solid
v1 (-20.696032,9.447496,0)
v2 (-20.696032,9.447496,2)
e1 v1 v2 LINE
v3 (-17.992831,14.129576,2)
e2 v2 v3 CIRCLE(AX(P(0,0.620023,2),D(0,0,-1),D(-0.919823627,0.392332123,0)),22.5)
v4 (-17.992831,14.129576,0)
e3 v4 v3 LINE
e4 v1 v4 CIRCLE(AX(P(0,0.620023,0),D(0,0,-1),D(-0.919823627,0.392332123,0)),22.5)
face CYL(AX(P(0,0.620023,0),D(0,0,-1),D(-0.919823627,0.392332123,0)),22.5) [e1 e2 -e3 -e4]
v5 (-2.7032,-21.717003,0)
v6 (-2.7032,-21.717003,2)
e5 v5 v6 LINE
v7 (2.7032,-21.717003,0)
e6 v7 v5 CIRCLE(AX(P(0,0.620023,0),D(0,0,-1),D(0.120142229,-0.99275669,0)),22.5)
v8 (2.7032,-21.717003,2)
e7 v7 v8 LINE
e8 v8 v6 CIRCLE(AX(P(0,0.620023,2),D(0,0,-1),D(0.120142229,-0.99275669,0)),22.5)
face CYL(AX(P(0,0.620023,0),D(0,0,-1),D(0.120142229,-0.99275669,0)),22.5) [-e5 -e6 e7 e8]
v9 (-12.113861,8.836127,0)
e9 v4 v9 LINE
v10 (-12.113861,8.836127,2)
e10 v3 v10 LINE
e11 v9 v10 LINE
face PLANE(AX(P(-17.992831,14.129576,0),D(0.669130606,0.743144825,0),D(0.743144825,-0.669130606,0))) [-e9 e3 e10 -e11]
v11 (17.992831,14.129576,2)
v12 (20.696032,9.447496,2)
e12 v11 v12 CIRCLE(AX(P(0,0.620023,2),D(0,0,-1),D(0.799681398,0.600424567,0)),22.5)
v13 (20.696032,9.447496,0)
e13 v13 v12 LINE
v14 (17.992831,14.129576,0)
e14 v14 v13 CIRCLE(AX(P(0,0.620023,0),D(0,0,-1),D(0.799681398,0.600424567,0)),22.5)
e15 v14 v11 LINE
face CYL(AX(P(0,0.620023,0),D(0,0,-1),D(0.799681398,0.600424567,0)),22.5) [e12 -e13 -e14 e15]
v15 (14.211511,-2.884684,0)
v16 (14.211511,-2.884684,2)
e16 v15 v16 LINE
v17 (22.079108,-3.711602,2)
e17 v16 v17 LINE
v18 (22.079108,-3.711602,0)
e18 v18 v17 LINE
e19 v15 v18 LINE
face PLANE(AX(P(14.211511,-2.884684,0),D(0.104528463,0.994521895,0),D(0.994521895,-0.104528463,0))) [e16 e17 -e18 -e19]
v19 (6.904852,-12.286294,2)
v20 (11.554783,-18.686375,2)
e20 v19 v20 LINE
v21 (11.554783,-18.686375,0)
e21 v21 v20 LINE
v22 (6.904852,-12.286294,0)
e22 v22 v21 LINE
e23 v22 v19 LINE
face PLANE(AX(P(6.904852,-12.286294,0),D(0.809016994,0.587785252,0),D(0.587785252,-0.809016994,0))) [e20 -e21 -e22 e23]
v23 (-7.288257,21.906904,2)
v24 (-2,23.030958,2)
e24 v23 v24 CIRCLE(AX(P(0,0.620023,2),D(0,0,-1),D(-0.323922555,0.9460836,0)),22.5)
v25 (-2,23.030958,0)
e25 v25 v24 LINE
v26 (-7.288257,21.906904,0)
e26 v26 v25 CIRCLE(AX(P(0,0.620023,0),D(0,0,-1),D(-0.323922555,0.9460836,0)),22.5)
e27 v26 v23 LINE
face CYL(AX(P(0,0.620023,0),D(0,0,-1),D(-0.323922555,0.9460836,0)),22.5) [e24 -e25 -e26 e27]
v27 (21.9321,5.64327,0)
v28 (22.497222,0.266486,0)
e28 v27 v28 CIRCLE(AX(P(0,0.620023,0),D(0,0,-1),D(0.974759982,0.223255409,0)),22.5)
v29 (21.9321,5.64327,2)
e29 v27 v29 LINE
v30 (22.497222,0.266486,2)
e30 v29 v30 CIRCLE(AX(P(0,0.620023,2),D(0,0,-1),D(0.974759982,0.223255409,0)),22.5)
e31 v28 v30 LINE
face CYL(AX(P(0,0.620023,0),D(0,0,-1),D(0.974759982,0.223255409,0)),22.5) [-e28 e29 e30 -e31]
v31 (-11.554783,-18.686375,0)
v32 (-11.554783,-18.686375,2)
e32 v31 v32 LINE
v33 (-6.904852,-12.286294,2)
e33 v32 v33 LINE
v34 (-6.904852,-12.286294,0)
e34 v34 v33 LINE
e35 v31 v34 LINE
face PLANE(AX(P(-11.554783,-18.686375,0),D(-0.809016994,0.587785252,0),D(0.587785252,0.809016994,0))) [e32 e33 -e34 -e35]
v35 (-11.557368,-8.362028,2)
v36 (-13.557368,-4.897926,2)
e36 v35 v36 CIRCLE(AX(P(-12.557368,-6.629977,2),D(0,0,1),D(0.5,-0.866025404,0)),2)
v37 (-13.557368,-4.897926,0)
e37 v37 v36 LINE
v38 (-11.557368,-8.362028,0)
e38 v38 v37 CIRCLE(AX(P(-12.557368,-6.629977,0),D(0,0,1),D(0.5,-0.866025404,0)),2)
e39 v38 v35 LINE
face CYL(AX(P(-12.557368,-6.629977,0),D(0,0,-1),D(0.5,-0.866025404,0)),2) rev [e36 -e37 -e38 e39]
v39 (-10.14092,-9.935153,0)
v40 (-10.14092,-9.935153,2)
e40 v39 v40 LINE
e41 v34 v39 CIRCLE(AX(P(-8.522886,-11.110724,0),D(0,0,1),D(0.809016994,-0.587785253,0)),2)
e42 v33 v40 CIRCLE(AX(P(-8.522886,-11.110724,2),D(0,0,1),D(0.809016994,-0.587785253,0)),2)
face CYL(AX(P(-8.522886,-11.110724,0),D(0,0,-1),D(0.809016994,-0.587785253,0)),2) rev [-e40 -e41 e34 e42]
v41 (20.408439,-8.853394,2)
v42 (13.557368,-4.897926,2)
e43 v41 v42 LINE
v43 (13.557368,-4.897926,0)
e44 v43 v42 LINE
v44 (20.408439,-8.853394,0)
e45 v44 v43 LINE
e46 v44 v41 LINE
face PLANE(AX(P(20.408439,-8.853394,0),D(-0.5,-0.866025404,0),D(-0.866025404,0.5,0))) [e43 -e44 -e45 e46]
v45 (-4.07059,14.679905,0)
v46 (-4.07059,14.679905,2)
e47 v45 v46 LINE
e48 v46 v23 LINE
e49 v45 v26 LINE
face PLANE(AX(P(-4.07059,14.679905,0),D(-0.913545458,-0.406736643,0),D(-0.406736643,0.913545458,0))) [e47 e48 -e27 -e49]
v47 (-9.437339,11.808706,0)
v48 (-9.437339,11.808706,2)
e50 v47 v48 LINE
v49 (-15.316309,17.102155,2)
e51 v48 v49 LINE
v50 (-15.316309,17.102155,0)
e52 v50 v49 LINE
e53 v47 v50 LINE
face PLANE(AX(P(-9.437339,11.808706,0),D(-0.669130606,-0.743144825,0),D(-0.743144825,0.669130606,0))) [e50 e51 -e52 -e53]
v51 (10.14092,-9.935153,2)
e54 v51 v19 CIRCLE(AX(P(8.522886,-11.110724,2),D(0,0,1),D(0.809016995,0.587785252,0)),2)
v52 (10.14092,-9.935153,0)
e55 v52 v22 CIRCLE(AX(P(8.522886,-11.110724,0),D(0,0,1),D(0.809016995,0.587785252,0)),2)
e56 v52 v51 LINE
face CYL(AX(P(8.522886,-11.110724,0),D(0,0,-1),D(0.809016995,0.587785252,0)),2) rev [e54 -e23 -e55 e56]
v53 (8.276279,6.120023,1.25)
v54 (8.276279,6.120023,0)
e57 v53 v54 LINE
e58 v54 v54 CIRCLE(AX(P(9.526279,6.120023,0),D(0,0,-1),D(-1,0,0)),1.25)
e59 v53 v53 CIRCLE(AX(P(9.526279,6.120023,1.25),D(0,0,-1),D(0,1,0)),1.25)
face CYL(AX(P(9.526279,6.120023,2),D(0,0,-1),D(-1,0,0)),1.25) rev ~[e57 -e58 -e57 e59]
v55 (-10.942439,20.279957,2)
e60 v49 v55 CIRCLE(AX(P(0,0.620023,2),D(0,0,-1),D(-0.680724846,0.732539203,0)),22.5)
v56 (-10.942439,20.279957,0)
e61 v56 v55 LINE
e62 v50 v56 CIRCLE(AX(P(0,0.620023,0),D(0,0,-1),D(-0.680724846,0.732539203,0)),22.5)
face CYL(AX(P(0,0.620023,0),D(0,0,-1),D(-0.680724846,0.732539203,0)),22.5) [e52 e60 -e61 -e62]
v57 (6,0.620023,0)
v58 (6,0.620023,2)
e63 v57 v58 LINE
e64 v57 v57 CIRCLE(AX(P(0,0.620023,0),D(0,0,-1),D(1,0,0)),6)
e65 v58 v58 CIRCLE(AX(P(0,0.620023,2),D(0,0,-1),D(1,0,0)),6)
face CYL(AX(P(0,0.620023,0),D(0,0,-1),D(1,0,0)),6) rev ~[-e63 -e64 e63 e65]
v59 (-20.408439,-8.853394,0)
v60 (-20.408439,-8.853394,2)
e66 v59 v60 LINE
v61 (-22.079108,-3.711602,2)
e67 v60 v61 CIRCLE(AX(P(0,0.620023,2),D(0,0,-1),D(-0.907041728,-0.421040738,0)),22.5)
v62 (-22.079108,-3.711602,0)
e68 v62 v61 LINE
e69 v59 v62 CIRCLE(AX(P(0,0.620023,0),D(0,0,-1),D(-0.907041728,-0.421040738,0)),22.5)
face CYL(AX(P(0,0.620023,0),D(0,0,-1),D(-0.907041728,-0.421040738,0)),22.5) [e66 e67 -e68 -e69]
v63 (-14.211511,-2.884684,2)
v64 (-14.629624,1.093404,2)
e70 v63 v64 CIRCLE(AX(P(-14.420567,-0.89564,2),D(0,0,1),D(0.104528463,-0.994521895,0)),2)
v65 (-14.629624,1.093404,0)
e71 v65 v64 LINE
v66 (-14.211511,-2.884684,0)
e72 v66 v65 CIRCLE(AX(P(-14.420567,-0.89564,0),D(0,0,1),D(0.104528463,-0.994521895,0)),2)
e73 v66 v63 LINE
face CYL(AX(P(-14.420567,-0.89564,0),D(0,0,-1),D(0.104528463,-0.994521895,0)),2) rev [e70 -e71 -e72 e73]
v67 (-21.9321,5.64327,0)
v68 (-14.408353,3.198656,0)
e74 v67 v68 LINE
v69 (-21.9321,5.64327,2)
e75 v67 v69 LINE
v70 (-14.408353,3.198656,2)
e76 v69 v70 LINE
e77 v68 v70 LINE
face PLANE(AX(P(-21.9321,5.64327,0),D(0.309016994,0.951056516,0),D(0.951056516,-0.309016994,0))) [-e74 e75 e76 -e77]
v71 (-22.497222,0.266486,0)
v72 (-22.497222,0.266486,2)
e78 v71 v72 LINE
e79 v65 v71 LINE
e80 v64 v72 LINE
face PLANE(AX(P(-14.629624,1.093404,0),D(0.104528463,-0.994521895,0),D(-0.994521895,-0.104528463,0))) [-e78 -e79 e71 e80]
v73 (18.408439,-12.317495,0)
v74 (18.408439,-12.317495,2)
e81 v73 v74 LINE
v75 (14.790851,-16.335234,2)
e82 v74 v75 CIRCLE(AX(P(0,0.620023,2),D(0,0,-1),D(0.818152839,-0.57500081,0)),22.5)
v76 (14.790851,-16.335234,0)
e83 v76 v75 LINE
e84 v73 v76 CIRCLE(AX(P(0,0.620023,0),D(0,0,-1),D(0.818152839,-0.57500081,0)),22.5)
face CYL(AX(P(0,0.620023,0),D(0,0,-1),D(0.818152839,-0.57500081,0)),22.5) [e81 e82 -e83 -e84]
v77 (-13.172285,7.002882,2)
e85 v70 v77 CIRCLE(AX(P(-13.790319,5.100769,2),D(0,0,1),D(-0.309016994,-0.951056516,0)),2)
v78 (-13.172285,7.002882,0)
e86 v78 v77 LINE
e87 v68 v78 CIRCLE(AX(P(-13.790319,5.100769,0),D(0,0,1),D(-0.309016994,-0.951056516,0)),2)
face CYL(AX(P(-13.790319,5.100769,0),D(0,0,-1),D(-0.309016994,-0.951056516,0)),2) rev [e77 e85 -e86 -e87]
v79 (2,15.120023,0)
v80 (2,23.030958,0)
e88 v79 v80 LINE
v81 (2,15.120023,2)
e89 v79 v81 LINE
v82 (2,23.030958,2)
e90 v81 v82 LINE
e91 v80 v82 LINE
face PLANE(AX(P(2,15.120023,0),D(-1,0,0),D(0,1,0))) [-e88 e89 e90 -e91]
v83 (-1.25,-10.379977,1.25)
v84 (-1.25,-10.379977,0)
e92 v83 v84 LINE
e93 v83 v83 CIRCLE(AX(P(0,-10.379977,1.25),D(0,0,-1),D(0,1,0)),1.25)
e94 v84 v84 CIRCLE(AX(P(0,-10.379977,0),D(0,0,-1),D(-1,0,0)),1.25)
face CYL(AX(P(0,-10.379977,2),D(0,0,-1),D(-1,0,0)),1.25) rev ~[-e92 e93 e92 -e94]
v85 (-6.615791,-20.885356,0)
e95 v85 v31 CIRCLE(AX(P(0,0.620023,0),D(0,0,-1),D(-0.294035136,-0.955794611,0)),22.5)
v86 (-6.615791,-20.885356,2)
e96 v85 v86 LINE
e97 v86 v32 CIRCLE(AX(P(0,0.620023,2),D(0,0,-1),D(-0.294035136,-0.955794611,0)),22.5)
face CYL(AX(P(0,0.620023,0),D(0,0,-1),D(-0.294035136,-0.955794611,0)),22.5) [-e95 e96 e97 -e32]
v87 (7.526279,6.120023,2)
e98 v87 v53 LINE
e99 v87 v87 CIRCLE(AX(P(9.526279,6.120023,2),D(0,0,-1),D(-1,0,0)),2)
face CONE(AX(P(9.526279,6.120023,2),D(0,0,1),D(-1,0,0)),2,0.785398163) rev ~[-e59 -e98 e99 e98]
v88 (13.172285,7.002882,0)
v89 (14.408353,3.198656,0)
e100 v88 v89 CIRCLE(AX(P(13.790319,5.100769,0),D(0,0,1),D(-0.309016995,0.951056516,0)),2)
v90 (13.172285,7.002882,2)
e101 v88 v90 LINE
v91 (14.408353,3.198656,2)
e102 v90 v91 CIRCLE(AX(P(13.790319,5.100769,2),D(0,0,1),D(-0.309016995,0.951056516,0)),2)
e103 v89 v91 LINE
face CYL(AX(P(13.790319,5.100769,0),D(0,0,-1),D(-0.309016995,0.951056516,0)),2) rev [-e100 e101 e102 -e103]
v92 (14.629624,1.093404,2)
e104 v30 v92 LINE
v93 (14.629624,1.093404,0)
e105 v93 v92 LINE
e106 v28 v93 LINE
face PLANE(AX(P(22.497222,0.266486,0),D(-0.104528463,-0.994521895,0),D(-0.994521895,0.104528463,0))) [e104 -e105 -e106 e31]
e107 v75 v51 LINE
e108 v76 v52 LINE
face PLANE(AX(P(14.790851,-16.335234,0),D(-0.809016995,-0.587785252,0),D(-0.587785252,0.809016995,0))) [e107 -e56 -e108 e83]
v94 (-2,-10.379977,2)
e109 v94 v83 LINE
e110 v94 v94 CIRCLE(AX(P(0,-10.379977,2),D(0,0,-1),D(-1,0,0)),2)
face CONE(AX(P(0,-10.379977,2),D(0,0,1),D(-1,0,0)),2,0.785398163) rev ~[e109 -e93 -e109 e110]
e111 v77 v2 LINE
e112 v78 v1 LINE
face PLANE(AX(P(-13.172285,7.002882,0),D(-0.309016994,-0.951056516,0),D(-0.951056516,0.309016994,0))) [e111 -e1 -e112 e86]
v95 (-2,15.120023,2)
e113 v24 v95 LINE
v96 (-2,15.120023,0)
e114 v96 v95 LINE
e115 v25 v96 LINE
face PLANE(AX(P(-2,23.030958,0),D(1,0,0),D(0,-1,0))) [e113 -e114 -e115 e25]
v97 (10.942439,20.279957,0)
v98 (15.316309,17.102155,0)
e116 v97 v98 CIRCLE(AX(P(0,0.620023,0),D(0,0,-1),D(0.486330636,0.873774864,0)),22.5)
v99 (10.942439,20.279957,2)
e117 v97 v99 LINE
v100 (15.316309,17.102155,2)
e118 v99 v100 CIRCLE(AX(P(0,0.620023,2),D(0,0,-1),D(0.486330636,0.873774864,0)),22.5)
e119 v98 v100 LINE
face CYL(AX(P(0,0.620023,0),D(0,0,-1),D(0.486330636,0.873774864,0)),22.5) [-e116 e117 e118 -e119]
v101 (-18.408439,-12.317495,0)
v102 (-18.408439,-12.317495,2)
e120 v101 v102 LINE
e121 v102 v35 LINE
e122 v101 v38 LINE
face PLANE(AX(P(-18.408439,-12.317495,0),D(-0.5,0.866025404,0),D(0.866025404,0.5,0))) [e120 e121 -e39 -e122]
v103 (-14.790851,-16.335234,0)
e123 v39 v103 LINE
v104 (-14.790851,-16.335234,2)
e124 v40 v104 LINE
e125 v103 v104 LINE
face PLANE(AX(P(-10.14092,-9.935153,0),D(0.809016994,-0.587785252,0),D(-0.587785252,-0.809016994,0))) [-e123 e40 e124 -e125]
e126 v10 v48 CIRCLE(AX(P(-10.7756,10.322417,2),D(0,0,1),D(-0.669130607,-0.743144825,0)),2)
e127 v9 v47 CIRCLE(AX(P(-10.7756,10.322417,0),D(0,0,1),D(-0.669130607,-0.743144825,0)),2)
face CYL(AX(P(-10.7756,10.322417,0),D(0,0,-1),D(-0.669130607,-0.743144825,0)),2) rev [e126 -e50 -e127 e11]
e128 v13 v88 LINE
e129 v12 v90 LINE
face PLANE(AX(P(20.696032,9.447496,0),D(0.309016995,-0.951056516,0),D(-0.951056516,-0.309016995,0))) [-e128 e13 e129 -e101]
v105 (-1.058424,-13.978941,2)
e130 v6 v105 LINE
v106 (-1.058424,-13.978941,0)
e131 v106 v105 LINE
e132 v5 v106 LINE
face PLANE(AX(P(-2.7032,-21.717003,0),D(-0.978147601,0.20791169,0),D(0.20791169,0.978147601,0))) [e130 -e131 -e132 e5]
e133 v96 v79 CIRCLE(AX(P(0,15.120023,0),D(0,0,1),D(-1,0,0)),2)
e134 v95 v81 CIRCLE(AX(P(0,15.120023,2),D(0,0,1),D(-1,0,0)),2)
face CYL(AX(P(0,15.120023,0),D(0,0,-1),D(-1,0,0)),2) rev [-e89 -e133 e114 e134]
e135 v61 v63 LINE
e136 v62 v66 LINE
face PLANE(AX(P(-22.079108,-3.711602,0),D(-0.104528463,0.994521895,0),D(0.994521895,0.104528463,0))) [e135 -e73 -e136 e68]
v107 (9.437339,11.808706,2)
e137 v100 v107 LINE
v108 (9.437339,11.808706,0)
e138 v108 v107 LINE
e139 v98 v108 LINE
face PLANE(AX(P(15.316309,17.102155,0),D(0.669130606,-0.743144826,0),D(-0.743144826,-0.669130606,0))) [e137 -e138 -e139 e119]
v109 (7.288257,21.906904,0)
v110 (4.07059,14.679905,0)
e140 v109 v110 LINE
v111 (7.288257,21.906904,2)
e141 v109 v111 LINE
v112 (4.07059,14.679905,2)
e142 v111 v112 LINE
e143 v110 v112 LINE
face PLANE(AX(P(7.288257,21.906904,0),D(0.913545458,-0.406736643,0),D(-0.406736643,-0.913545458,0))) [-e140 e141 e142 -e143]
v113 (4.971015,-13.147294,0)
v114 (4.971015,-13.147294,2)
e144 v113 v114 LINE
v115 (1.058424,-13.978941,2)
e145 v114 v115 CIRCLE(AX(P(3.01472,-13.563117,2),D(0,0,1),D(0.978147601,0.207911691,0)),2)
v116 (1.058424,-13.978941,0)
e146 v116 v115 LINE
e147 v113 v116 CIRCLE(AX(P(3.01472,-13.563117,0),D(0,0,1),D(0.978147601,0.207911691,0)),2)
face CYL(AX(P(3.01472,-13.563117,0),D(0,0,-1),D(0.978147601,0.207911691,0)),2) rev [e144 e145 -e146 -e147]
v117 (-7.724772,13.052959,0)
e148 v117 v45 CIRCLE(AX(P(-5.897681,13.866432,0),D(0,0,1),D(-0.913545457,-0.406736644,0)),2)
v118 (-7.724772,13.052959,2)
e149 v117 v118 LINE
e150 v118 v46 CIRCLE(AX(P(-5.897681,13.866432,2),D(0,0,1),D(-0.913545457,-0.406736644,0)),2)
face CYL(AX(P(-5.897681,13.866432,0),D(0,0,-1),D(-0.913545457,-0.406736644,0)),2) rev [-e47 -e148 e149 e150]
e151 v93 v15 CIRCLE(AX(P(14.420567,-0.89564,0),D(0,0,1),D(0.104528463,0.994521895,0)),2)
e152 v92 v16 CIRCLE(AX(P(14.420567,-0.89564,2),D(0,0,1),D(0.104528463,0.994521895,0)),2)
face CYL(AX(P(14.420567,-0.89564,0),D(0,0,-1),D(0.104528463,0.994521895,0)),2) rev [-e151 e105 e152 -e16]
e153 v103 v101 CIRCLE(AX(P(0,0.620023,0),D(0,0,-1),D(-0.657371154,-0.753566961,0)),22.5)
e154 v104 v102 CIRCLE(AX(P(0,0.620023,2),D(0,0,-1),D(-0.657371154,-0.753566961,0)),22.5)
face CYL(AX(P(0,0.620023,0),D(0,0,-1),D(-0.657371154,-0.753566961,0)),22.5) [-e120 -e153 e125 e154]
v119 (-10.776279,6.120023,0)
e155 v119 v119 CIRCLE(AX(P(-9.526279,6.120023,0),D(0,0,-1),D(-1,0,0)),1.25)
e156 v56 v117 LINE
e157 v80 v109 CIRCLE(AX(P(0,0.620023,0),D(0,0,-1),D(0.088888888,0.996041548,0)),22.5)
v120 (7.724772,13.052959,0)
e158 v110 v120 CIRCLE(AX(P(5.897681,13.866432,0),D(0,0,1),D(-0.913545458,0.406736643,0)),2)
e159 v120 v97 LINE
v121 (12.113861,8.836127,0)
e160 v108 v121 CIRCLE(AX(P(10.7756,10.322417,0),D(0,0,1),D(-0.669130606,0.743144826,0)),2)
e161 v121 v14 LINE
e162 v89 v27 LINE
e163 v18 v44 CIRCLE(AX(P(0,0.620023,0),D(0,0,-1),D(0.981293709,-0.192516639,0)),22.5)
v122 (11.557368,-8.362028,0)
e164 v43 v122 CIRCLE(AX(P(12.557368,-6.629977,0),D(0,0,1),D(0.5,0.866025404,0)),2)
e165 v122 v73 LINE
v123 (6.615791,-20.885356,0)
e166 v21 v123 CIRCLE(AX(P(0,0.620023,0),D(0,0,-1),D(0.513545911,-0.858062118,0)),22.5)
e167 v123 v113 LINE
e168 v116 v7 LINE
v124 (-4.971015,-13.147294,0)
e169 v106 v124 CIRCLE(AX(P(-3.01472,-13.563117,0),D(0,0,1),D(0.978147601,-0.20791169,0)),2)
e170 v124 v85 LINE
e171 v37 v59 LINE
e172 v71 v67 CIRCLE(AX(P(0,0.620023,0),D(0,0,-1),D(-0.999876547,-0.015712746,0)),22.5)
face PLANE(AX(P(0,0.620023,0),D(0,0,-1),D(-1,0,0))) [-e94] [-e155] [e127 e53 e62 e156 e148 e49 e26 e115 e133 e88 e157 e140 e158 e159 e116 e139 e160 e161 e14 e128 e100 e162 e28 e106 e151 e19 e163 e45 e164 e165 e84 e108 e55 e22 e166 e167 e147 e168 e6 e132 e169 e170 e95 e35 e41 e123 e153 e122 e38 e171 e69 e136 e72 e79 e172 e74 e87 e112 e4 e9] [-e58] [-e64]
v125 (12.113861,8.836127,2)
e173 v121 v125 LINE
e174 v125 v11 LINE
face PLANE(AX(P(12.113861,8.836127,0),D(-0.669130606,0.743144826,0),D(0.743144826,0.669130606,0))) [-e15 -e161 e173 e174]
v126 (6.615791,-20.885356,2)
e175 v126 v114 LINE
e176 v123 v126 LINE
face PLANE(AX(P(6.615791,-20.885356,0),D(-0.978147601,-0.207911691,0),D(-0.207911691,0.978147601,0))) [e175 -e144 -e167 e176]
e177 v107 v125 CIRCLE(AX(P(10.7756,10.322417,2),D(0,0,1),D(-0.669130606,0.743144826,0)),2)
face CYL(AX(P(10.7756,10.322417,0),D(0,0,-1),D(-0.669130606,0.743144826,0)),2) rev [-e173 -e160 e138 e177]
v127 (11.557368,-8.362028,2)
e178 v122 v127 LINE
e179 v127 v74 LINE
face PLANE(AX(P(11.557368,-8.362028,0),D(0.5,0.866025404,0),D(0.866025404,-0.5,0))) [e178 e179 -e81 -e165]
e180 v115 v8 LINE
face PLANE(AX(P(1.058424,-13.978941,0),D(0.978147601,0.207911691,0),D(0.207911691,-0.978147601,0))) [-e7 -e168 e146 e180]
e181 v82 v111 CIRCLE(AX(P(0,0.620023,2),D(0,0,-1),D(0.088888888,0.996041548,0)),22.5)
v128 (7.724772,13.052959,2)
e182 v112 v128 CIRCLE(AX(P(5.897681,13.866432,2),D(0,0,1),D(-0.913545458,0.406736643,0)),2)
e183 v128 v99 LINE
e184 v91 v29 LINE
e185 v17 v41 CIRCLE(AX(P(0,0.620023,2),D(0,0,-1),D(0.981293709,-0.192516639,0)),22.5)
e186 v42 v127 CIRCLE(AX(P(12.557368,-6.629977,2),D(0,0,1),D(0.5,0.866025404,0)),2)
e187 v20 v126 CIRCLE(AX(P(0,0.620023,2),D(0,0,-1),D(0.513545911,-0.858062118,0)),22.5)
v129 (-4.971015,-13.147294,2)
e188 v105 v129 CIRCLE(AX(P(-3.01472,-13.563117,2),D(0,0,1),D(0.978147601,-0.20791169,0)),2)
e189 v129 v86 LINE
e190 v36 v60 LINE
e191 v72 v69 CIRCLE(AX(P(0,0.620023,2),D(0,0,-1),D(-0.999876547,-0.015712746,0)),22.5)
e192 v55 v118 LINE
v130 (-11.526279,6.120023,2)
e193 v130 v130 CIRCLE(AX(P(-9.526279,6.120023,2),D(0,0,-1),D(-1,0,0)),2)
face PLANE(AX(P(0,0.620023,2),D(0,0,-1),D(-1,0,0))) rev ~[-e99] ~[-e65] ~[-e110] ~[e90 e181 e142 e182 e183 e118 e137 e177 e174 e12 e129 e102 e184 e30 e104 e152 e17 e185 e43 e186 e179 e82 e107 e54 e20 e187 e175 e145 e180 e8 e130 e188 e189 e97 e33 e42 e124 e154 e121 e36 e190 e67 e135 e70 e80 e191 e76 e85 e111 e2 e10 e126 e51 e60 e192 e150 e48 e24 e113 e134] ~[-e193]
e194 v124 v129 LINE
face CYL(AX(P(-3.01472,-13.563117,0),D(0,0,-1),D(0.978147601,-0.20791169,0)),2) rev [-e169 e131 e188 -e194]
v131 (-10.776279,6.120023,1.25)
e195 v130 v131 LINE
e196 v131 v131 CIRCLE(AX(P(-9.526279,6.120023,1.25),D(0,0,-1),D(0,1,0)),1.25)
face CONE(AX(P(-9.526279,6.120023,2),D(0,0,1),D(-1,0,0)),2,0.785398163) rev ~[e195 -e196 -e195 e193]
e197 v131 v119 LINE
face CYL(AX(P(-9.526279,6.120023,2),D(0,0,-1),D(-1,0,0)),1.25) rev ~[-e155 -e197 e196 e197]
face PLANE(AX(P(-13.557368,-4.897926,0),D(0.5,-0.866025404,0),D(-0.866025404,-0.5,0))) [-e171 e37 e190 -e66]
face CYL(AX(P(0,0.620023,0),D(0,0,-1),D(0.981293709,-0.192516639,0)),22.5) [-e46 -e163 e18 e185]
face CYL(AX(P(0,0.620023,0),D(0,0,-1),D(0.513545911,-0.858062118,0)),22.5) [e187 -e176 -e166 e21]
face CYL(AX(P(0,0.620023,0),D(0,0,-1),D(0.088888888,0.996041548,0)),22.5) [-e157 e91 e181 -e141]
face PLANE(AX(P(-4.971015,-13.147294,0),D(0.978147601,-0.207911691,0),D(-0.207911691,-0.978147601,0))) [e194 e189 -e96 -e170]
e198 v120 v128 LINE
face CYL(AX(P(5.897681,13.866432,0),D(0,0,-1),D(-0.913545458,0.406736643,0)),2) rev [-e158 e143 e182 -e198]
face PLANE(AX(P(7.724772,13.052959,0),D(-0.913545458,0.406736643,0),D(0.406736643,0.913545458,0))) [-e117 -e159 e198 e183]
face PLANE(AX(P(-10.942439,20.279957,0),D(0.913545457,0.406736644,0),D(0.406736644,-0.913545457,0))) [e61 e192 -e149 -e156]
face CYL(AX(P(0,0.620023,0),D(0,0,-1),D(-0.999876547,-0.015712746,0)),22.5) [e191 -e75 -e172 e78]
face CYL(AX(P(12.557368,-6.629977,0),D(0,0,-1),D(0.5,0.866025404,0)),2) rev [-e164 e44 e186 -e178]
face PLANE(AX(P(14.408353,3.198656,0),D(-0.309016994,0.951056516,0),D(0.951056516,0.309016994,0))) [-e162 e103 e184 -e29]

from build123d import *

# Parameters (mm, degrees)
SKETCH1_R                     = 1
SKETCH1_R_2                   = 6
BOSS_EXTRUDE1_DEPTH           = 2
CSK_FOR_M3_SFHCS1_D           = 2.5
CSK_FOR_M3_SFHCS1_DEPTH       = 9.5
CSK_FOR_M3_SFHCS1_CSINK_D     = 4
CSK_FOR_M3_SFHCS1_CSINK_ANGLE = 90
CSK_FOR_M3_SFHCS1_TIP         = 0.751075774


with BuildPart() as part:
    # Sketch1 → Boss-Extrude1 (new body)
    with BuildSketch(Plane(origin=(0, 0, 0), x_dir=(-1, 0, 0), z_dir=(0, 0, -1))):
        with BuildLine():
            Line((-15.316309042, 17.102154929), (-9.437338757, 11.808706309))
            ThreePointArc((-9.437338757, 11.808706309), (-9.289310319, 8.984155445), (-12.113861182, 8.836127007))
            Line((-12.113861182, 8.836127007), (-17.992831467, 14.129575627))
            ThreePointArc((-17.992831467, 14.129575627), (-19.485571585, 11.870022867), (-20.696031618, 9.447495623))
            Line((-20.696031618, 9.447495623), (-13.172285497, 7.002882316))
            ThreePointArc((-13.172285497, 7.002882316), (-11.888206454, 4.482735294), (-14.408353475, 3.198656251))
            Line((-14.408353475, 3.198656251), (-21.932099596, 5.643269556))
            ThreePointArc((-21.932099596, 5.643269556), (-22.376742646, 2.971913289), (-22.497222312, 0.266486078))
            Line((-22.497222312, 0.266486078), (-14.62962441, 1.093403939))
            ThreePointArc((-14.62962441, 1.093403939), (-12.431523692, -0.686582926), (-14.211510557, -2.884683643))
            Line((-14.211510557, -2.884683643), (-22.079108459, -3.711601503))
            ThreePointArc((-22.079108459, -3.711601503), (-21.398771617, -6.332859507), (-20.408438887, -8.853393742))
            Line((-20.408438887, -8.853393742), (-13.557368355, -4.897926326))
            ThreePointArc((-13.557368355, -4.897926326), (-10.825317547, -5.629977134), (-11.557368355, -8.362027942))
            Line((-11.557368355, -8.362027942), (-18.408438886, -12.317495358))
            ThreePointArc((-18.408438886, -12.317495358), (-16.720758571, -14.435415779), (-14.790850969, -16.335233771))
            Line((-14.790850969, -16.335233771), (-10.140920148, -9.935153049))
            ThreePointArc((-10.140920148, -9.935153049), (-7.347315654, -9.492689564), (-6.90485217, -12.286294058))
            Line((-6.90485217, -12.286294058), (-11.554782995, -18.686374777))
            ThreePointArc((-11.554782995, -18.686374777), (-9.151574469, -19.934749931), (-6.615790555, -20.885355888))
            Line((-6.615790555, -20.885355888), (-4.971014718, -13.147293963))
            ThreePointArc((-4.971014718, -13.147293963), (-2.598896135, -11.606822144), (-1.058424316, -13.978940727))
            Line((-1.058424316, -13.978940727), (-2.703200152, -21.717002651))
            ThreePointArc((-2.703200152, -21.717002651), (-3e-09, -21.879977134), (2.703200146, -21.717002651))
            Line((2.703200146, -21.717002651), (1.058424314, -13.978940725))
            ThreePointArc((1.058424314, -13.978940725), (2.598896135, -11.606822143), (4.971014718, -13.147293963))
            Line((4.971014718, -13.147293963), (6.615790554, -20.885355888))
            ThreePointArc((6.615790554, -20.885355888), (9.151574469, -19.934749931), (11.554782995, -18.686374777))
            Line((11.554782995, -18.686374777), (6.904852169, -12.286294058))
            ThreePointArc((6.904852169, -12.286294058), (7.347315653, -9.492689564), (10.140920146, -9.935153048))
            Line((10.140920146, -9.935153048), (14.790850972, -16.335233768))
            ThreePointArc((14.790850972, -16.335233768), (16.720758571, -14.435415779), (18.408438883, -12.317495361))
            Line((18.408438883, -12.317495361), (11.557368352, -8.362027946))
            ThreePointArc((11.557368352, -8.362027946), (10.825317543, -5.629977135), (13.557368354, -4.897926327))
            Line((13.557368354, -4.897926327), (20.408438886, -8.853393742))
            ThreePointArc((20.408438886, -8.853393742), (21.398771616, -6.332859507), (22.079108458, -3.711601502))
            Line((22.079108458, -3.711601502), (14.211510556, -2.884683643))
            ThreePointArc((14.211510556, -2.884683643), (12.431523691, -0.686582926), (14.629624409, 1.093403939))
            Line((14.629624409, 1.093403939), (22.497222311, 0.266486078))
            ThreePointArc((22.497222311, 0.266486078), (22.376742645, 2.971913287), (21.932099596, 5.643269552))
            Line((21.932099596, 5.643269552), (14.408353473, 3.19865625))
            ThreePointArc((14.408353473, 3.19865625), (11.888206452, 4.482735295), (13.172285497, 7.002882316))
            Line((13.172285497, 7.002882316), (20.696031618, 9.447495621))
            ThreePointArc((20.696031618, 9.447495621), (19.485571584, 11.870022866), (17.992831465, 14.129575628))
            Line((17.992831465, 14.129575628), (12.113861182, 8.836127007))
            ThreePointArc((12.113861182, 8.836127007), (9.289310318, 8.984155445), (9.437338756, 11.808706308))
            Line((9.437338756, 11.808706308), (15.316309041, 17.102154929))
            ThreePointArc((15.316309041, 17.102154929), (13.225168178, 18.822905238), (10.94243932, 20.279957294))
            Line((10.94243932, 20.279957294), (7.724772239, 13.052958714))
            ThreePointArc((7.724772239, 13.052958714), (5.084208037, 12.039341086), (4.070590408, 14.679905287))
            Line((4.070590408, 14.679905287), (7.288257486, 21.906903868))
            ThreePointArc((7.288257486, 21.906903868), (4.67801304, 22.628343883), (1.999999993, 23.030957697))
            Line((1.999999993, 23.030957697), (1.999999993, 15.120022866))
            ThreePointArc((1.999999993, 15.120022866), (-1e-09, 13.120022872), (-1.999999995, 15.120022866))
            Line((-1.999999995, 15.120022866), (-1.999999995, 23.030957697))
            ThreePointArc((-1.999999995, 23.030957697), (-4.67801304, 22.628343883), (-7.288257483, 21.906903869))
            Line((-7.288257483, 21.906903869), (-4.070590409, 14.679905287))
            ThreePointArc((-4.070590409, 14.679905287), (-5.084208039, 12.039341085), (-7.72477224, 13.052958715))
            Line((-7.72477224, 13.052958715), (-10.942439317, 20.279957296))
            ThreePointArc((-10.942439317, 20.279957296), (-13.225168177, 18.822905239), (-15.316309042, 17.102154929))
        make_face()
        with Locations(Location((9.526279442, 6.120022866, 0), (0, 0, 180))):
            Circle(SKETCH1_R, mode=Mode.SUBTRACT)
        with Locations(Location((-9.526279442, 6.120022866, 0), (0, 0, 180))):
            Circle(SKETCH1_R, mode=Mode.SUBTRACT)
        with Locations(Location((0, -10.379977134, 0), (0, 0, 180))):
            Circle(SKETCH1_R, mode=Mode.SUBTRACT)
        with Locations(Location((0, 0.620022866, 0), (0, 0, 180))):
            Circle(SKETCH1_R_2, mode=Mode.SUBTRACT)
    extrude(amount=-BOSS_EXTRUDE1_DEPTH)

    # CSK for M3 SFHCS1
    with Locations(Plane(origin=(-9.526279442, 6.120022866, 2), x_dir=(1, 0, 0), z_dir=(0, 0, 1))):
        with Locations((0, 0), (19.052558884, 0), (9.526279442, -16.5)):
            CounterSinkHole(CSK_FOR_M3_SFHCS1_D / 2, CSK_FOR_M3_SFHCS1_CSINK_D / 2, depth=CSK_FOR_M3_SFHCS1_DEPTH, counter_sink_angle=CSK_FOR_M3_SFHCS1_CSINK_ANGLE)
            with Locations((0, 0, -(CSK_FOR_M3_SFHCS1_DEPTH + CSK_FOR_M3_SFHCS1_TIP / 2))):  # 118° drill point
                Cone(0, CSK_FOR_M3_SFHCS1_D / 2, CSK_FOR_M3_SFHCS1_TIP, mode=Mode.SUBTRACT)


solid = part.part
